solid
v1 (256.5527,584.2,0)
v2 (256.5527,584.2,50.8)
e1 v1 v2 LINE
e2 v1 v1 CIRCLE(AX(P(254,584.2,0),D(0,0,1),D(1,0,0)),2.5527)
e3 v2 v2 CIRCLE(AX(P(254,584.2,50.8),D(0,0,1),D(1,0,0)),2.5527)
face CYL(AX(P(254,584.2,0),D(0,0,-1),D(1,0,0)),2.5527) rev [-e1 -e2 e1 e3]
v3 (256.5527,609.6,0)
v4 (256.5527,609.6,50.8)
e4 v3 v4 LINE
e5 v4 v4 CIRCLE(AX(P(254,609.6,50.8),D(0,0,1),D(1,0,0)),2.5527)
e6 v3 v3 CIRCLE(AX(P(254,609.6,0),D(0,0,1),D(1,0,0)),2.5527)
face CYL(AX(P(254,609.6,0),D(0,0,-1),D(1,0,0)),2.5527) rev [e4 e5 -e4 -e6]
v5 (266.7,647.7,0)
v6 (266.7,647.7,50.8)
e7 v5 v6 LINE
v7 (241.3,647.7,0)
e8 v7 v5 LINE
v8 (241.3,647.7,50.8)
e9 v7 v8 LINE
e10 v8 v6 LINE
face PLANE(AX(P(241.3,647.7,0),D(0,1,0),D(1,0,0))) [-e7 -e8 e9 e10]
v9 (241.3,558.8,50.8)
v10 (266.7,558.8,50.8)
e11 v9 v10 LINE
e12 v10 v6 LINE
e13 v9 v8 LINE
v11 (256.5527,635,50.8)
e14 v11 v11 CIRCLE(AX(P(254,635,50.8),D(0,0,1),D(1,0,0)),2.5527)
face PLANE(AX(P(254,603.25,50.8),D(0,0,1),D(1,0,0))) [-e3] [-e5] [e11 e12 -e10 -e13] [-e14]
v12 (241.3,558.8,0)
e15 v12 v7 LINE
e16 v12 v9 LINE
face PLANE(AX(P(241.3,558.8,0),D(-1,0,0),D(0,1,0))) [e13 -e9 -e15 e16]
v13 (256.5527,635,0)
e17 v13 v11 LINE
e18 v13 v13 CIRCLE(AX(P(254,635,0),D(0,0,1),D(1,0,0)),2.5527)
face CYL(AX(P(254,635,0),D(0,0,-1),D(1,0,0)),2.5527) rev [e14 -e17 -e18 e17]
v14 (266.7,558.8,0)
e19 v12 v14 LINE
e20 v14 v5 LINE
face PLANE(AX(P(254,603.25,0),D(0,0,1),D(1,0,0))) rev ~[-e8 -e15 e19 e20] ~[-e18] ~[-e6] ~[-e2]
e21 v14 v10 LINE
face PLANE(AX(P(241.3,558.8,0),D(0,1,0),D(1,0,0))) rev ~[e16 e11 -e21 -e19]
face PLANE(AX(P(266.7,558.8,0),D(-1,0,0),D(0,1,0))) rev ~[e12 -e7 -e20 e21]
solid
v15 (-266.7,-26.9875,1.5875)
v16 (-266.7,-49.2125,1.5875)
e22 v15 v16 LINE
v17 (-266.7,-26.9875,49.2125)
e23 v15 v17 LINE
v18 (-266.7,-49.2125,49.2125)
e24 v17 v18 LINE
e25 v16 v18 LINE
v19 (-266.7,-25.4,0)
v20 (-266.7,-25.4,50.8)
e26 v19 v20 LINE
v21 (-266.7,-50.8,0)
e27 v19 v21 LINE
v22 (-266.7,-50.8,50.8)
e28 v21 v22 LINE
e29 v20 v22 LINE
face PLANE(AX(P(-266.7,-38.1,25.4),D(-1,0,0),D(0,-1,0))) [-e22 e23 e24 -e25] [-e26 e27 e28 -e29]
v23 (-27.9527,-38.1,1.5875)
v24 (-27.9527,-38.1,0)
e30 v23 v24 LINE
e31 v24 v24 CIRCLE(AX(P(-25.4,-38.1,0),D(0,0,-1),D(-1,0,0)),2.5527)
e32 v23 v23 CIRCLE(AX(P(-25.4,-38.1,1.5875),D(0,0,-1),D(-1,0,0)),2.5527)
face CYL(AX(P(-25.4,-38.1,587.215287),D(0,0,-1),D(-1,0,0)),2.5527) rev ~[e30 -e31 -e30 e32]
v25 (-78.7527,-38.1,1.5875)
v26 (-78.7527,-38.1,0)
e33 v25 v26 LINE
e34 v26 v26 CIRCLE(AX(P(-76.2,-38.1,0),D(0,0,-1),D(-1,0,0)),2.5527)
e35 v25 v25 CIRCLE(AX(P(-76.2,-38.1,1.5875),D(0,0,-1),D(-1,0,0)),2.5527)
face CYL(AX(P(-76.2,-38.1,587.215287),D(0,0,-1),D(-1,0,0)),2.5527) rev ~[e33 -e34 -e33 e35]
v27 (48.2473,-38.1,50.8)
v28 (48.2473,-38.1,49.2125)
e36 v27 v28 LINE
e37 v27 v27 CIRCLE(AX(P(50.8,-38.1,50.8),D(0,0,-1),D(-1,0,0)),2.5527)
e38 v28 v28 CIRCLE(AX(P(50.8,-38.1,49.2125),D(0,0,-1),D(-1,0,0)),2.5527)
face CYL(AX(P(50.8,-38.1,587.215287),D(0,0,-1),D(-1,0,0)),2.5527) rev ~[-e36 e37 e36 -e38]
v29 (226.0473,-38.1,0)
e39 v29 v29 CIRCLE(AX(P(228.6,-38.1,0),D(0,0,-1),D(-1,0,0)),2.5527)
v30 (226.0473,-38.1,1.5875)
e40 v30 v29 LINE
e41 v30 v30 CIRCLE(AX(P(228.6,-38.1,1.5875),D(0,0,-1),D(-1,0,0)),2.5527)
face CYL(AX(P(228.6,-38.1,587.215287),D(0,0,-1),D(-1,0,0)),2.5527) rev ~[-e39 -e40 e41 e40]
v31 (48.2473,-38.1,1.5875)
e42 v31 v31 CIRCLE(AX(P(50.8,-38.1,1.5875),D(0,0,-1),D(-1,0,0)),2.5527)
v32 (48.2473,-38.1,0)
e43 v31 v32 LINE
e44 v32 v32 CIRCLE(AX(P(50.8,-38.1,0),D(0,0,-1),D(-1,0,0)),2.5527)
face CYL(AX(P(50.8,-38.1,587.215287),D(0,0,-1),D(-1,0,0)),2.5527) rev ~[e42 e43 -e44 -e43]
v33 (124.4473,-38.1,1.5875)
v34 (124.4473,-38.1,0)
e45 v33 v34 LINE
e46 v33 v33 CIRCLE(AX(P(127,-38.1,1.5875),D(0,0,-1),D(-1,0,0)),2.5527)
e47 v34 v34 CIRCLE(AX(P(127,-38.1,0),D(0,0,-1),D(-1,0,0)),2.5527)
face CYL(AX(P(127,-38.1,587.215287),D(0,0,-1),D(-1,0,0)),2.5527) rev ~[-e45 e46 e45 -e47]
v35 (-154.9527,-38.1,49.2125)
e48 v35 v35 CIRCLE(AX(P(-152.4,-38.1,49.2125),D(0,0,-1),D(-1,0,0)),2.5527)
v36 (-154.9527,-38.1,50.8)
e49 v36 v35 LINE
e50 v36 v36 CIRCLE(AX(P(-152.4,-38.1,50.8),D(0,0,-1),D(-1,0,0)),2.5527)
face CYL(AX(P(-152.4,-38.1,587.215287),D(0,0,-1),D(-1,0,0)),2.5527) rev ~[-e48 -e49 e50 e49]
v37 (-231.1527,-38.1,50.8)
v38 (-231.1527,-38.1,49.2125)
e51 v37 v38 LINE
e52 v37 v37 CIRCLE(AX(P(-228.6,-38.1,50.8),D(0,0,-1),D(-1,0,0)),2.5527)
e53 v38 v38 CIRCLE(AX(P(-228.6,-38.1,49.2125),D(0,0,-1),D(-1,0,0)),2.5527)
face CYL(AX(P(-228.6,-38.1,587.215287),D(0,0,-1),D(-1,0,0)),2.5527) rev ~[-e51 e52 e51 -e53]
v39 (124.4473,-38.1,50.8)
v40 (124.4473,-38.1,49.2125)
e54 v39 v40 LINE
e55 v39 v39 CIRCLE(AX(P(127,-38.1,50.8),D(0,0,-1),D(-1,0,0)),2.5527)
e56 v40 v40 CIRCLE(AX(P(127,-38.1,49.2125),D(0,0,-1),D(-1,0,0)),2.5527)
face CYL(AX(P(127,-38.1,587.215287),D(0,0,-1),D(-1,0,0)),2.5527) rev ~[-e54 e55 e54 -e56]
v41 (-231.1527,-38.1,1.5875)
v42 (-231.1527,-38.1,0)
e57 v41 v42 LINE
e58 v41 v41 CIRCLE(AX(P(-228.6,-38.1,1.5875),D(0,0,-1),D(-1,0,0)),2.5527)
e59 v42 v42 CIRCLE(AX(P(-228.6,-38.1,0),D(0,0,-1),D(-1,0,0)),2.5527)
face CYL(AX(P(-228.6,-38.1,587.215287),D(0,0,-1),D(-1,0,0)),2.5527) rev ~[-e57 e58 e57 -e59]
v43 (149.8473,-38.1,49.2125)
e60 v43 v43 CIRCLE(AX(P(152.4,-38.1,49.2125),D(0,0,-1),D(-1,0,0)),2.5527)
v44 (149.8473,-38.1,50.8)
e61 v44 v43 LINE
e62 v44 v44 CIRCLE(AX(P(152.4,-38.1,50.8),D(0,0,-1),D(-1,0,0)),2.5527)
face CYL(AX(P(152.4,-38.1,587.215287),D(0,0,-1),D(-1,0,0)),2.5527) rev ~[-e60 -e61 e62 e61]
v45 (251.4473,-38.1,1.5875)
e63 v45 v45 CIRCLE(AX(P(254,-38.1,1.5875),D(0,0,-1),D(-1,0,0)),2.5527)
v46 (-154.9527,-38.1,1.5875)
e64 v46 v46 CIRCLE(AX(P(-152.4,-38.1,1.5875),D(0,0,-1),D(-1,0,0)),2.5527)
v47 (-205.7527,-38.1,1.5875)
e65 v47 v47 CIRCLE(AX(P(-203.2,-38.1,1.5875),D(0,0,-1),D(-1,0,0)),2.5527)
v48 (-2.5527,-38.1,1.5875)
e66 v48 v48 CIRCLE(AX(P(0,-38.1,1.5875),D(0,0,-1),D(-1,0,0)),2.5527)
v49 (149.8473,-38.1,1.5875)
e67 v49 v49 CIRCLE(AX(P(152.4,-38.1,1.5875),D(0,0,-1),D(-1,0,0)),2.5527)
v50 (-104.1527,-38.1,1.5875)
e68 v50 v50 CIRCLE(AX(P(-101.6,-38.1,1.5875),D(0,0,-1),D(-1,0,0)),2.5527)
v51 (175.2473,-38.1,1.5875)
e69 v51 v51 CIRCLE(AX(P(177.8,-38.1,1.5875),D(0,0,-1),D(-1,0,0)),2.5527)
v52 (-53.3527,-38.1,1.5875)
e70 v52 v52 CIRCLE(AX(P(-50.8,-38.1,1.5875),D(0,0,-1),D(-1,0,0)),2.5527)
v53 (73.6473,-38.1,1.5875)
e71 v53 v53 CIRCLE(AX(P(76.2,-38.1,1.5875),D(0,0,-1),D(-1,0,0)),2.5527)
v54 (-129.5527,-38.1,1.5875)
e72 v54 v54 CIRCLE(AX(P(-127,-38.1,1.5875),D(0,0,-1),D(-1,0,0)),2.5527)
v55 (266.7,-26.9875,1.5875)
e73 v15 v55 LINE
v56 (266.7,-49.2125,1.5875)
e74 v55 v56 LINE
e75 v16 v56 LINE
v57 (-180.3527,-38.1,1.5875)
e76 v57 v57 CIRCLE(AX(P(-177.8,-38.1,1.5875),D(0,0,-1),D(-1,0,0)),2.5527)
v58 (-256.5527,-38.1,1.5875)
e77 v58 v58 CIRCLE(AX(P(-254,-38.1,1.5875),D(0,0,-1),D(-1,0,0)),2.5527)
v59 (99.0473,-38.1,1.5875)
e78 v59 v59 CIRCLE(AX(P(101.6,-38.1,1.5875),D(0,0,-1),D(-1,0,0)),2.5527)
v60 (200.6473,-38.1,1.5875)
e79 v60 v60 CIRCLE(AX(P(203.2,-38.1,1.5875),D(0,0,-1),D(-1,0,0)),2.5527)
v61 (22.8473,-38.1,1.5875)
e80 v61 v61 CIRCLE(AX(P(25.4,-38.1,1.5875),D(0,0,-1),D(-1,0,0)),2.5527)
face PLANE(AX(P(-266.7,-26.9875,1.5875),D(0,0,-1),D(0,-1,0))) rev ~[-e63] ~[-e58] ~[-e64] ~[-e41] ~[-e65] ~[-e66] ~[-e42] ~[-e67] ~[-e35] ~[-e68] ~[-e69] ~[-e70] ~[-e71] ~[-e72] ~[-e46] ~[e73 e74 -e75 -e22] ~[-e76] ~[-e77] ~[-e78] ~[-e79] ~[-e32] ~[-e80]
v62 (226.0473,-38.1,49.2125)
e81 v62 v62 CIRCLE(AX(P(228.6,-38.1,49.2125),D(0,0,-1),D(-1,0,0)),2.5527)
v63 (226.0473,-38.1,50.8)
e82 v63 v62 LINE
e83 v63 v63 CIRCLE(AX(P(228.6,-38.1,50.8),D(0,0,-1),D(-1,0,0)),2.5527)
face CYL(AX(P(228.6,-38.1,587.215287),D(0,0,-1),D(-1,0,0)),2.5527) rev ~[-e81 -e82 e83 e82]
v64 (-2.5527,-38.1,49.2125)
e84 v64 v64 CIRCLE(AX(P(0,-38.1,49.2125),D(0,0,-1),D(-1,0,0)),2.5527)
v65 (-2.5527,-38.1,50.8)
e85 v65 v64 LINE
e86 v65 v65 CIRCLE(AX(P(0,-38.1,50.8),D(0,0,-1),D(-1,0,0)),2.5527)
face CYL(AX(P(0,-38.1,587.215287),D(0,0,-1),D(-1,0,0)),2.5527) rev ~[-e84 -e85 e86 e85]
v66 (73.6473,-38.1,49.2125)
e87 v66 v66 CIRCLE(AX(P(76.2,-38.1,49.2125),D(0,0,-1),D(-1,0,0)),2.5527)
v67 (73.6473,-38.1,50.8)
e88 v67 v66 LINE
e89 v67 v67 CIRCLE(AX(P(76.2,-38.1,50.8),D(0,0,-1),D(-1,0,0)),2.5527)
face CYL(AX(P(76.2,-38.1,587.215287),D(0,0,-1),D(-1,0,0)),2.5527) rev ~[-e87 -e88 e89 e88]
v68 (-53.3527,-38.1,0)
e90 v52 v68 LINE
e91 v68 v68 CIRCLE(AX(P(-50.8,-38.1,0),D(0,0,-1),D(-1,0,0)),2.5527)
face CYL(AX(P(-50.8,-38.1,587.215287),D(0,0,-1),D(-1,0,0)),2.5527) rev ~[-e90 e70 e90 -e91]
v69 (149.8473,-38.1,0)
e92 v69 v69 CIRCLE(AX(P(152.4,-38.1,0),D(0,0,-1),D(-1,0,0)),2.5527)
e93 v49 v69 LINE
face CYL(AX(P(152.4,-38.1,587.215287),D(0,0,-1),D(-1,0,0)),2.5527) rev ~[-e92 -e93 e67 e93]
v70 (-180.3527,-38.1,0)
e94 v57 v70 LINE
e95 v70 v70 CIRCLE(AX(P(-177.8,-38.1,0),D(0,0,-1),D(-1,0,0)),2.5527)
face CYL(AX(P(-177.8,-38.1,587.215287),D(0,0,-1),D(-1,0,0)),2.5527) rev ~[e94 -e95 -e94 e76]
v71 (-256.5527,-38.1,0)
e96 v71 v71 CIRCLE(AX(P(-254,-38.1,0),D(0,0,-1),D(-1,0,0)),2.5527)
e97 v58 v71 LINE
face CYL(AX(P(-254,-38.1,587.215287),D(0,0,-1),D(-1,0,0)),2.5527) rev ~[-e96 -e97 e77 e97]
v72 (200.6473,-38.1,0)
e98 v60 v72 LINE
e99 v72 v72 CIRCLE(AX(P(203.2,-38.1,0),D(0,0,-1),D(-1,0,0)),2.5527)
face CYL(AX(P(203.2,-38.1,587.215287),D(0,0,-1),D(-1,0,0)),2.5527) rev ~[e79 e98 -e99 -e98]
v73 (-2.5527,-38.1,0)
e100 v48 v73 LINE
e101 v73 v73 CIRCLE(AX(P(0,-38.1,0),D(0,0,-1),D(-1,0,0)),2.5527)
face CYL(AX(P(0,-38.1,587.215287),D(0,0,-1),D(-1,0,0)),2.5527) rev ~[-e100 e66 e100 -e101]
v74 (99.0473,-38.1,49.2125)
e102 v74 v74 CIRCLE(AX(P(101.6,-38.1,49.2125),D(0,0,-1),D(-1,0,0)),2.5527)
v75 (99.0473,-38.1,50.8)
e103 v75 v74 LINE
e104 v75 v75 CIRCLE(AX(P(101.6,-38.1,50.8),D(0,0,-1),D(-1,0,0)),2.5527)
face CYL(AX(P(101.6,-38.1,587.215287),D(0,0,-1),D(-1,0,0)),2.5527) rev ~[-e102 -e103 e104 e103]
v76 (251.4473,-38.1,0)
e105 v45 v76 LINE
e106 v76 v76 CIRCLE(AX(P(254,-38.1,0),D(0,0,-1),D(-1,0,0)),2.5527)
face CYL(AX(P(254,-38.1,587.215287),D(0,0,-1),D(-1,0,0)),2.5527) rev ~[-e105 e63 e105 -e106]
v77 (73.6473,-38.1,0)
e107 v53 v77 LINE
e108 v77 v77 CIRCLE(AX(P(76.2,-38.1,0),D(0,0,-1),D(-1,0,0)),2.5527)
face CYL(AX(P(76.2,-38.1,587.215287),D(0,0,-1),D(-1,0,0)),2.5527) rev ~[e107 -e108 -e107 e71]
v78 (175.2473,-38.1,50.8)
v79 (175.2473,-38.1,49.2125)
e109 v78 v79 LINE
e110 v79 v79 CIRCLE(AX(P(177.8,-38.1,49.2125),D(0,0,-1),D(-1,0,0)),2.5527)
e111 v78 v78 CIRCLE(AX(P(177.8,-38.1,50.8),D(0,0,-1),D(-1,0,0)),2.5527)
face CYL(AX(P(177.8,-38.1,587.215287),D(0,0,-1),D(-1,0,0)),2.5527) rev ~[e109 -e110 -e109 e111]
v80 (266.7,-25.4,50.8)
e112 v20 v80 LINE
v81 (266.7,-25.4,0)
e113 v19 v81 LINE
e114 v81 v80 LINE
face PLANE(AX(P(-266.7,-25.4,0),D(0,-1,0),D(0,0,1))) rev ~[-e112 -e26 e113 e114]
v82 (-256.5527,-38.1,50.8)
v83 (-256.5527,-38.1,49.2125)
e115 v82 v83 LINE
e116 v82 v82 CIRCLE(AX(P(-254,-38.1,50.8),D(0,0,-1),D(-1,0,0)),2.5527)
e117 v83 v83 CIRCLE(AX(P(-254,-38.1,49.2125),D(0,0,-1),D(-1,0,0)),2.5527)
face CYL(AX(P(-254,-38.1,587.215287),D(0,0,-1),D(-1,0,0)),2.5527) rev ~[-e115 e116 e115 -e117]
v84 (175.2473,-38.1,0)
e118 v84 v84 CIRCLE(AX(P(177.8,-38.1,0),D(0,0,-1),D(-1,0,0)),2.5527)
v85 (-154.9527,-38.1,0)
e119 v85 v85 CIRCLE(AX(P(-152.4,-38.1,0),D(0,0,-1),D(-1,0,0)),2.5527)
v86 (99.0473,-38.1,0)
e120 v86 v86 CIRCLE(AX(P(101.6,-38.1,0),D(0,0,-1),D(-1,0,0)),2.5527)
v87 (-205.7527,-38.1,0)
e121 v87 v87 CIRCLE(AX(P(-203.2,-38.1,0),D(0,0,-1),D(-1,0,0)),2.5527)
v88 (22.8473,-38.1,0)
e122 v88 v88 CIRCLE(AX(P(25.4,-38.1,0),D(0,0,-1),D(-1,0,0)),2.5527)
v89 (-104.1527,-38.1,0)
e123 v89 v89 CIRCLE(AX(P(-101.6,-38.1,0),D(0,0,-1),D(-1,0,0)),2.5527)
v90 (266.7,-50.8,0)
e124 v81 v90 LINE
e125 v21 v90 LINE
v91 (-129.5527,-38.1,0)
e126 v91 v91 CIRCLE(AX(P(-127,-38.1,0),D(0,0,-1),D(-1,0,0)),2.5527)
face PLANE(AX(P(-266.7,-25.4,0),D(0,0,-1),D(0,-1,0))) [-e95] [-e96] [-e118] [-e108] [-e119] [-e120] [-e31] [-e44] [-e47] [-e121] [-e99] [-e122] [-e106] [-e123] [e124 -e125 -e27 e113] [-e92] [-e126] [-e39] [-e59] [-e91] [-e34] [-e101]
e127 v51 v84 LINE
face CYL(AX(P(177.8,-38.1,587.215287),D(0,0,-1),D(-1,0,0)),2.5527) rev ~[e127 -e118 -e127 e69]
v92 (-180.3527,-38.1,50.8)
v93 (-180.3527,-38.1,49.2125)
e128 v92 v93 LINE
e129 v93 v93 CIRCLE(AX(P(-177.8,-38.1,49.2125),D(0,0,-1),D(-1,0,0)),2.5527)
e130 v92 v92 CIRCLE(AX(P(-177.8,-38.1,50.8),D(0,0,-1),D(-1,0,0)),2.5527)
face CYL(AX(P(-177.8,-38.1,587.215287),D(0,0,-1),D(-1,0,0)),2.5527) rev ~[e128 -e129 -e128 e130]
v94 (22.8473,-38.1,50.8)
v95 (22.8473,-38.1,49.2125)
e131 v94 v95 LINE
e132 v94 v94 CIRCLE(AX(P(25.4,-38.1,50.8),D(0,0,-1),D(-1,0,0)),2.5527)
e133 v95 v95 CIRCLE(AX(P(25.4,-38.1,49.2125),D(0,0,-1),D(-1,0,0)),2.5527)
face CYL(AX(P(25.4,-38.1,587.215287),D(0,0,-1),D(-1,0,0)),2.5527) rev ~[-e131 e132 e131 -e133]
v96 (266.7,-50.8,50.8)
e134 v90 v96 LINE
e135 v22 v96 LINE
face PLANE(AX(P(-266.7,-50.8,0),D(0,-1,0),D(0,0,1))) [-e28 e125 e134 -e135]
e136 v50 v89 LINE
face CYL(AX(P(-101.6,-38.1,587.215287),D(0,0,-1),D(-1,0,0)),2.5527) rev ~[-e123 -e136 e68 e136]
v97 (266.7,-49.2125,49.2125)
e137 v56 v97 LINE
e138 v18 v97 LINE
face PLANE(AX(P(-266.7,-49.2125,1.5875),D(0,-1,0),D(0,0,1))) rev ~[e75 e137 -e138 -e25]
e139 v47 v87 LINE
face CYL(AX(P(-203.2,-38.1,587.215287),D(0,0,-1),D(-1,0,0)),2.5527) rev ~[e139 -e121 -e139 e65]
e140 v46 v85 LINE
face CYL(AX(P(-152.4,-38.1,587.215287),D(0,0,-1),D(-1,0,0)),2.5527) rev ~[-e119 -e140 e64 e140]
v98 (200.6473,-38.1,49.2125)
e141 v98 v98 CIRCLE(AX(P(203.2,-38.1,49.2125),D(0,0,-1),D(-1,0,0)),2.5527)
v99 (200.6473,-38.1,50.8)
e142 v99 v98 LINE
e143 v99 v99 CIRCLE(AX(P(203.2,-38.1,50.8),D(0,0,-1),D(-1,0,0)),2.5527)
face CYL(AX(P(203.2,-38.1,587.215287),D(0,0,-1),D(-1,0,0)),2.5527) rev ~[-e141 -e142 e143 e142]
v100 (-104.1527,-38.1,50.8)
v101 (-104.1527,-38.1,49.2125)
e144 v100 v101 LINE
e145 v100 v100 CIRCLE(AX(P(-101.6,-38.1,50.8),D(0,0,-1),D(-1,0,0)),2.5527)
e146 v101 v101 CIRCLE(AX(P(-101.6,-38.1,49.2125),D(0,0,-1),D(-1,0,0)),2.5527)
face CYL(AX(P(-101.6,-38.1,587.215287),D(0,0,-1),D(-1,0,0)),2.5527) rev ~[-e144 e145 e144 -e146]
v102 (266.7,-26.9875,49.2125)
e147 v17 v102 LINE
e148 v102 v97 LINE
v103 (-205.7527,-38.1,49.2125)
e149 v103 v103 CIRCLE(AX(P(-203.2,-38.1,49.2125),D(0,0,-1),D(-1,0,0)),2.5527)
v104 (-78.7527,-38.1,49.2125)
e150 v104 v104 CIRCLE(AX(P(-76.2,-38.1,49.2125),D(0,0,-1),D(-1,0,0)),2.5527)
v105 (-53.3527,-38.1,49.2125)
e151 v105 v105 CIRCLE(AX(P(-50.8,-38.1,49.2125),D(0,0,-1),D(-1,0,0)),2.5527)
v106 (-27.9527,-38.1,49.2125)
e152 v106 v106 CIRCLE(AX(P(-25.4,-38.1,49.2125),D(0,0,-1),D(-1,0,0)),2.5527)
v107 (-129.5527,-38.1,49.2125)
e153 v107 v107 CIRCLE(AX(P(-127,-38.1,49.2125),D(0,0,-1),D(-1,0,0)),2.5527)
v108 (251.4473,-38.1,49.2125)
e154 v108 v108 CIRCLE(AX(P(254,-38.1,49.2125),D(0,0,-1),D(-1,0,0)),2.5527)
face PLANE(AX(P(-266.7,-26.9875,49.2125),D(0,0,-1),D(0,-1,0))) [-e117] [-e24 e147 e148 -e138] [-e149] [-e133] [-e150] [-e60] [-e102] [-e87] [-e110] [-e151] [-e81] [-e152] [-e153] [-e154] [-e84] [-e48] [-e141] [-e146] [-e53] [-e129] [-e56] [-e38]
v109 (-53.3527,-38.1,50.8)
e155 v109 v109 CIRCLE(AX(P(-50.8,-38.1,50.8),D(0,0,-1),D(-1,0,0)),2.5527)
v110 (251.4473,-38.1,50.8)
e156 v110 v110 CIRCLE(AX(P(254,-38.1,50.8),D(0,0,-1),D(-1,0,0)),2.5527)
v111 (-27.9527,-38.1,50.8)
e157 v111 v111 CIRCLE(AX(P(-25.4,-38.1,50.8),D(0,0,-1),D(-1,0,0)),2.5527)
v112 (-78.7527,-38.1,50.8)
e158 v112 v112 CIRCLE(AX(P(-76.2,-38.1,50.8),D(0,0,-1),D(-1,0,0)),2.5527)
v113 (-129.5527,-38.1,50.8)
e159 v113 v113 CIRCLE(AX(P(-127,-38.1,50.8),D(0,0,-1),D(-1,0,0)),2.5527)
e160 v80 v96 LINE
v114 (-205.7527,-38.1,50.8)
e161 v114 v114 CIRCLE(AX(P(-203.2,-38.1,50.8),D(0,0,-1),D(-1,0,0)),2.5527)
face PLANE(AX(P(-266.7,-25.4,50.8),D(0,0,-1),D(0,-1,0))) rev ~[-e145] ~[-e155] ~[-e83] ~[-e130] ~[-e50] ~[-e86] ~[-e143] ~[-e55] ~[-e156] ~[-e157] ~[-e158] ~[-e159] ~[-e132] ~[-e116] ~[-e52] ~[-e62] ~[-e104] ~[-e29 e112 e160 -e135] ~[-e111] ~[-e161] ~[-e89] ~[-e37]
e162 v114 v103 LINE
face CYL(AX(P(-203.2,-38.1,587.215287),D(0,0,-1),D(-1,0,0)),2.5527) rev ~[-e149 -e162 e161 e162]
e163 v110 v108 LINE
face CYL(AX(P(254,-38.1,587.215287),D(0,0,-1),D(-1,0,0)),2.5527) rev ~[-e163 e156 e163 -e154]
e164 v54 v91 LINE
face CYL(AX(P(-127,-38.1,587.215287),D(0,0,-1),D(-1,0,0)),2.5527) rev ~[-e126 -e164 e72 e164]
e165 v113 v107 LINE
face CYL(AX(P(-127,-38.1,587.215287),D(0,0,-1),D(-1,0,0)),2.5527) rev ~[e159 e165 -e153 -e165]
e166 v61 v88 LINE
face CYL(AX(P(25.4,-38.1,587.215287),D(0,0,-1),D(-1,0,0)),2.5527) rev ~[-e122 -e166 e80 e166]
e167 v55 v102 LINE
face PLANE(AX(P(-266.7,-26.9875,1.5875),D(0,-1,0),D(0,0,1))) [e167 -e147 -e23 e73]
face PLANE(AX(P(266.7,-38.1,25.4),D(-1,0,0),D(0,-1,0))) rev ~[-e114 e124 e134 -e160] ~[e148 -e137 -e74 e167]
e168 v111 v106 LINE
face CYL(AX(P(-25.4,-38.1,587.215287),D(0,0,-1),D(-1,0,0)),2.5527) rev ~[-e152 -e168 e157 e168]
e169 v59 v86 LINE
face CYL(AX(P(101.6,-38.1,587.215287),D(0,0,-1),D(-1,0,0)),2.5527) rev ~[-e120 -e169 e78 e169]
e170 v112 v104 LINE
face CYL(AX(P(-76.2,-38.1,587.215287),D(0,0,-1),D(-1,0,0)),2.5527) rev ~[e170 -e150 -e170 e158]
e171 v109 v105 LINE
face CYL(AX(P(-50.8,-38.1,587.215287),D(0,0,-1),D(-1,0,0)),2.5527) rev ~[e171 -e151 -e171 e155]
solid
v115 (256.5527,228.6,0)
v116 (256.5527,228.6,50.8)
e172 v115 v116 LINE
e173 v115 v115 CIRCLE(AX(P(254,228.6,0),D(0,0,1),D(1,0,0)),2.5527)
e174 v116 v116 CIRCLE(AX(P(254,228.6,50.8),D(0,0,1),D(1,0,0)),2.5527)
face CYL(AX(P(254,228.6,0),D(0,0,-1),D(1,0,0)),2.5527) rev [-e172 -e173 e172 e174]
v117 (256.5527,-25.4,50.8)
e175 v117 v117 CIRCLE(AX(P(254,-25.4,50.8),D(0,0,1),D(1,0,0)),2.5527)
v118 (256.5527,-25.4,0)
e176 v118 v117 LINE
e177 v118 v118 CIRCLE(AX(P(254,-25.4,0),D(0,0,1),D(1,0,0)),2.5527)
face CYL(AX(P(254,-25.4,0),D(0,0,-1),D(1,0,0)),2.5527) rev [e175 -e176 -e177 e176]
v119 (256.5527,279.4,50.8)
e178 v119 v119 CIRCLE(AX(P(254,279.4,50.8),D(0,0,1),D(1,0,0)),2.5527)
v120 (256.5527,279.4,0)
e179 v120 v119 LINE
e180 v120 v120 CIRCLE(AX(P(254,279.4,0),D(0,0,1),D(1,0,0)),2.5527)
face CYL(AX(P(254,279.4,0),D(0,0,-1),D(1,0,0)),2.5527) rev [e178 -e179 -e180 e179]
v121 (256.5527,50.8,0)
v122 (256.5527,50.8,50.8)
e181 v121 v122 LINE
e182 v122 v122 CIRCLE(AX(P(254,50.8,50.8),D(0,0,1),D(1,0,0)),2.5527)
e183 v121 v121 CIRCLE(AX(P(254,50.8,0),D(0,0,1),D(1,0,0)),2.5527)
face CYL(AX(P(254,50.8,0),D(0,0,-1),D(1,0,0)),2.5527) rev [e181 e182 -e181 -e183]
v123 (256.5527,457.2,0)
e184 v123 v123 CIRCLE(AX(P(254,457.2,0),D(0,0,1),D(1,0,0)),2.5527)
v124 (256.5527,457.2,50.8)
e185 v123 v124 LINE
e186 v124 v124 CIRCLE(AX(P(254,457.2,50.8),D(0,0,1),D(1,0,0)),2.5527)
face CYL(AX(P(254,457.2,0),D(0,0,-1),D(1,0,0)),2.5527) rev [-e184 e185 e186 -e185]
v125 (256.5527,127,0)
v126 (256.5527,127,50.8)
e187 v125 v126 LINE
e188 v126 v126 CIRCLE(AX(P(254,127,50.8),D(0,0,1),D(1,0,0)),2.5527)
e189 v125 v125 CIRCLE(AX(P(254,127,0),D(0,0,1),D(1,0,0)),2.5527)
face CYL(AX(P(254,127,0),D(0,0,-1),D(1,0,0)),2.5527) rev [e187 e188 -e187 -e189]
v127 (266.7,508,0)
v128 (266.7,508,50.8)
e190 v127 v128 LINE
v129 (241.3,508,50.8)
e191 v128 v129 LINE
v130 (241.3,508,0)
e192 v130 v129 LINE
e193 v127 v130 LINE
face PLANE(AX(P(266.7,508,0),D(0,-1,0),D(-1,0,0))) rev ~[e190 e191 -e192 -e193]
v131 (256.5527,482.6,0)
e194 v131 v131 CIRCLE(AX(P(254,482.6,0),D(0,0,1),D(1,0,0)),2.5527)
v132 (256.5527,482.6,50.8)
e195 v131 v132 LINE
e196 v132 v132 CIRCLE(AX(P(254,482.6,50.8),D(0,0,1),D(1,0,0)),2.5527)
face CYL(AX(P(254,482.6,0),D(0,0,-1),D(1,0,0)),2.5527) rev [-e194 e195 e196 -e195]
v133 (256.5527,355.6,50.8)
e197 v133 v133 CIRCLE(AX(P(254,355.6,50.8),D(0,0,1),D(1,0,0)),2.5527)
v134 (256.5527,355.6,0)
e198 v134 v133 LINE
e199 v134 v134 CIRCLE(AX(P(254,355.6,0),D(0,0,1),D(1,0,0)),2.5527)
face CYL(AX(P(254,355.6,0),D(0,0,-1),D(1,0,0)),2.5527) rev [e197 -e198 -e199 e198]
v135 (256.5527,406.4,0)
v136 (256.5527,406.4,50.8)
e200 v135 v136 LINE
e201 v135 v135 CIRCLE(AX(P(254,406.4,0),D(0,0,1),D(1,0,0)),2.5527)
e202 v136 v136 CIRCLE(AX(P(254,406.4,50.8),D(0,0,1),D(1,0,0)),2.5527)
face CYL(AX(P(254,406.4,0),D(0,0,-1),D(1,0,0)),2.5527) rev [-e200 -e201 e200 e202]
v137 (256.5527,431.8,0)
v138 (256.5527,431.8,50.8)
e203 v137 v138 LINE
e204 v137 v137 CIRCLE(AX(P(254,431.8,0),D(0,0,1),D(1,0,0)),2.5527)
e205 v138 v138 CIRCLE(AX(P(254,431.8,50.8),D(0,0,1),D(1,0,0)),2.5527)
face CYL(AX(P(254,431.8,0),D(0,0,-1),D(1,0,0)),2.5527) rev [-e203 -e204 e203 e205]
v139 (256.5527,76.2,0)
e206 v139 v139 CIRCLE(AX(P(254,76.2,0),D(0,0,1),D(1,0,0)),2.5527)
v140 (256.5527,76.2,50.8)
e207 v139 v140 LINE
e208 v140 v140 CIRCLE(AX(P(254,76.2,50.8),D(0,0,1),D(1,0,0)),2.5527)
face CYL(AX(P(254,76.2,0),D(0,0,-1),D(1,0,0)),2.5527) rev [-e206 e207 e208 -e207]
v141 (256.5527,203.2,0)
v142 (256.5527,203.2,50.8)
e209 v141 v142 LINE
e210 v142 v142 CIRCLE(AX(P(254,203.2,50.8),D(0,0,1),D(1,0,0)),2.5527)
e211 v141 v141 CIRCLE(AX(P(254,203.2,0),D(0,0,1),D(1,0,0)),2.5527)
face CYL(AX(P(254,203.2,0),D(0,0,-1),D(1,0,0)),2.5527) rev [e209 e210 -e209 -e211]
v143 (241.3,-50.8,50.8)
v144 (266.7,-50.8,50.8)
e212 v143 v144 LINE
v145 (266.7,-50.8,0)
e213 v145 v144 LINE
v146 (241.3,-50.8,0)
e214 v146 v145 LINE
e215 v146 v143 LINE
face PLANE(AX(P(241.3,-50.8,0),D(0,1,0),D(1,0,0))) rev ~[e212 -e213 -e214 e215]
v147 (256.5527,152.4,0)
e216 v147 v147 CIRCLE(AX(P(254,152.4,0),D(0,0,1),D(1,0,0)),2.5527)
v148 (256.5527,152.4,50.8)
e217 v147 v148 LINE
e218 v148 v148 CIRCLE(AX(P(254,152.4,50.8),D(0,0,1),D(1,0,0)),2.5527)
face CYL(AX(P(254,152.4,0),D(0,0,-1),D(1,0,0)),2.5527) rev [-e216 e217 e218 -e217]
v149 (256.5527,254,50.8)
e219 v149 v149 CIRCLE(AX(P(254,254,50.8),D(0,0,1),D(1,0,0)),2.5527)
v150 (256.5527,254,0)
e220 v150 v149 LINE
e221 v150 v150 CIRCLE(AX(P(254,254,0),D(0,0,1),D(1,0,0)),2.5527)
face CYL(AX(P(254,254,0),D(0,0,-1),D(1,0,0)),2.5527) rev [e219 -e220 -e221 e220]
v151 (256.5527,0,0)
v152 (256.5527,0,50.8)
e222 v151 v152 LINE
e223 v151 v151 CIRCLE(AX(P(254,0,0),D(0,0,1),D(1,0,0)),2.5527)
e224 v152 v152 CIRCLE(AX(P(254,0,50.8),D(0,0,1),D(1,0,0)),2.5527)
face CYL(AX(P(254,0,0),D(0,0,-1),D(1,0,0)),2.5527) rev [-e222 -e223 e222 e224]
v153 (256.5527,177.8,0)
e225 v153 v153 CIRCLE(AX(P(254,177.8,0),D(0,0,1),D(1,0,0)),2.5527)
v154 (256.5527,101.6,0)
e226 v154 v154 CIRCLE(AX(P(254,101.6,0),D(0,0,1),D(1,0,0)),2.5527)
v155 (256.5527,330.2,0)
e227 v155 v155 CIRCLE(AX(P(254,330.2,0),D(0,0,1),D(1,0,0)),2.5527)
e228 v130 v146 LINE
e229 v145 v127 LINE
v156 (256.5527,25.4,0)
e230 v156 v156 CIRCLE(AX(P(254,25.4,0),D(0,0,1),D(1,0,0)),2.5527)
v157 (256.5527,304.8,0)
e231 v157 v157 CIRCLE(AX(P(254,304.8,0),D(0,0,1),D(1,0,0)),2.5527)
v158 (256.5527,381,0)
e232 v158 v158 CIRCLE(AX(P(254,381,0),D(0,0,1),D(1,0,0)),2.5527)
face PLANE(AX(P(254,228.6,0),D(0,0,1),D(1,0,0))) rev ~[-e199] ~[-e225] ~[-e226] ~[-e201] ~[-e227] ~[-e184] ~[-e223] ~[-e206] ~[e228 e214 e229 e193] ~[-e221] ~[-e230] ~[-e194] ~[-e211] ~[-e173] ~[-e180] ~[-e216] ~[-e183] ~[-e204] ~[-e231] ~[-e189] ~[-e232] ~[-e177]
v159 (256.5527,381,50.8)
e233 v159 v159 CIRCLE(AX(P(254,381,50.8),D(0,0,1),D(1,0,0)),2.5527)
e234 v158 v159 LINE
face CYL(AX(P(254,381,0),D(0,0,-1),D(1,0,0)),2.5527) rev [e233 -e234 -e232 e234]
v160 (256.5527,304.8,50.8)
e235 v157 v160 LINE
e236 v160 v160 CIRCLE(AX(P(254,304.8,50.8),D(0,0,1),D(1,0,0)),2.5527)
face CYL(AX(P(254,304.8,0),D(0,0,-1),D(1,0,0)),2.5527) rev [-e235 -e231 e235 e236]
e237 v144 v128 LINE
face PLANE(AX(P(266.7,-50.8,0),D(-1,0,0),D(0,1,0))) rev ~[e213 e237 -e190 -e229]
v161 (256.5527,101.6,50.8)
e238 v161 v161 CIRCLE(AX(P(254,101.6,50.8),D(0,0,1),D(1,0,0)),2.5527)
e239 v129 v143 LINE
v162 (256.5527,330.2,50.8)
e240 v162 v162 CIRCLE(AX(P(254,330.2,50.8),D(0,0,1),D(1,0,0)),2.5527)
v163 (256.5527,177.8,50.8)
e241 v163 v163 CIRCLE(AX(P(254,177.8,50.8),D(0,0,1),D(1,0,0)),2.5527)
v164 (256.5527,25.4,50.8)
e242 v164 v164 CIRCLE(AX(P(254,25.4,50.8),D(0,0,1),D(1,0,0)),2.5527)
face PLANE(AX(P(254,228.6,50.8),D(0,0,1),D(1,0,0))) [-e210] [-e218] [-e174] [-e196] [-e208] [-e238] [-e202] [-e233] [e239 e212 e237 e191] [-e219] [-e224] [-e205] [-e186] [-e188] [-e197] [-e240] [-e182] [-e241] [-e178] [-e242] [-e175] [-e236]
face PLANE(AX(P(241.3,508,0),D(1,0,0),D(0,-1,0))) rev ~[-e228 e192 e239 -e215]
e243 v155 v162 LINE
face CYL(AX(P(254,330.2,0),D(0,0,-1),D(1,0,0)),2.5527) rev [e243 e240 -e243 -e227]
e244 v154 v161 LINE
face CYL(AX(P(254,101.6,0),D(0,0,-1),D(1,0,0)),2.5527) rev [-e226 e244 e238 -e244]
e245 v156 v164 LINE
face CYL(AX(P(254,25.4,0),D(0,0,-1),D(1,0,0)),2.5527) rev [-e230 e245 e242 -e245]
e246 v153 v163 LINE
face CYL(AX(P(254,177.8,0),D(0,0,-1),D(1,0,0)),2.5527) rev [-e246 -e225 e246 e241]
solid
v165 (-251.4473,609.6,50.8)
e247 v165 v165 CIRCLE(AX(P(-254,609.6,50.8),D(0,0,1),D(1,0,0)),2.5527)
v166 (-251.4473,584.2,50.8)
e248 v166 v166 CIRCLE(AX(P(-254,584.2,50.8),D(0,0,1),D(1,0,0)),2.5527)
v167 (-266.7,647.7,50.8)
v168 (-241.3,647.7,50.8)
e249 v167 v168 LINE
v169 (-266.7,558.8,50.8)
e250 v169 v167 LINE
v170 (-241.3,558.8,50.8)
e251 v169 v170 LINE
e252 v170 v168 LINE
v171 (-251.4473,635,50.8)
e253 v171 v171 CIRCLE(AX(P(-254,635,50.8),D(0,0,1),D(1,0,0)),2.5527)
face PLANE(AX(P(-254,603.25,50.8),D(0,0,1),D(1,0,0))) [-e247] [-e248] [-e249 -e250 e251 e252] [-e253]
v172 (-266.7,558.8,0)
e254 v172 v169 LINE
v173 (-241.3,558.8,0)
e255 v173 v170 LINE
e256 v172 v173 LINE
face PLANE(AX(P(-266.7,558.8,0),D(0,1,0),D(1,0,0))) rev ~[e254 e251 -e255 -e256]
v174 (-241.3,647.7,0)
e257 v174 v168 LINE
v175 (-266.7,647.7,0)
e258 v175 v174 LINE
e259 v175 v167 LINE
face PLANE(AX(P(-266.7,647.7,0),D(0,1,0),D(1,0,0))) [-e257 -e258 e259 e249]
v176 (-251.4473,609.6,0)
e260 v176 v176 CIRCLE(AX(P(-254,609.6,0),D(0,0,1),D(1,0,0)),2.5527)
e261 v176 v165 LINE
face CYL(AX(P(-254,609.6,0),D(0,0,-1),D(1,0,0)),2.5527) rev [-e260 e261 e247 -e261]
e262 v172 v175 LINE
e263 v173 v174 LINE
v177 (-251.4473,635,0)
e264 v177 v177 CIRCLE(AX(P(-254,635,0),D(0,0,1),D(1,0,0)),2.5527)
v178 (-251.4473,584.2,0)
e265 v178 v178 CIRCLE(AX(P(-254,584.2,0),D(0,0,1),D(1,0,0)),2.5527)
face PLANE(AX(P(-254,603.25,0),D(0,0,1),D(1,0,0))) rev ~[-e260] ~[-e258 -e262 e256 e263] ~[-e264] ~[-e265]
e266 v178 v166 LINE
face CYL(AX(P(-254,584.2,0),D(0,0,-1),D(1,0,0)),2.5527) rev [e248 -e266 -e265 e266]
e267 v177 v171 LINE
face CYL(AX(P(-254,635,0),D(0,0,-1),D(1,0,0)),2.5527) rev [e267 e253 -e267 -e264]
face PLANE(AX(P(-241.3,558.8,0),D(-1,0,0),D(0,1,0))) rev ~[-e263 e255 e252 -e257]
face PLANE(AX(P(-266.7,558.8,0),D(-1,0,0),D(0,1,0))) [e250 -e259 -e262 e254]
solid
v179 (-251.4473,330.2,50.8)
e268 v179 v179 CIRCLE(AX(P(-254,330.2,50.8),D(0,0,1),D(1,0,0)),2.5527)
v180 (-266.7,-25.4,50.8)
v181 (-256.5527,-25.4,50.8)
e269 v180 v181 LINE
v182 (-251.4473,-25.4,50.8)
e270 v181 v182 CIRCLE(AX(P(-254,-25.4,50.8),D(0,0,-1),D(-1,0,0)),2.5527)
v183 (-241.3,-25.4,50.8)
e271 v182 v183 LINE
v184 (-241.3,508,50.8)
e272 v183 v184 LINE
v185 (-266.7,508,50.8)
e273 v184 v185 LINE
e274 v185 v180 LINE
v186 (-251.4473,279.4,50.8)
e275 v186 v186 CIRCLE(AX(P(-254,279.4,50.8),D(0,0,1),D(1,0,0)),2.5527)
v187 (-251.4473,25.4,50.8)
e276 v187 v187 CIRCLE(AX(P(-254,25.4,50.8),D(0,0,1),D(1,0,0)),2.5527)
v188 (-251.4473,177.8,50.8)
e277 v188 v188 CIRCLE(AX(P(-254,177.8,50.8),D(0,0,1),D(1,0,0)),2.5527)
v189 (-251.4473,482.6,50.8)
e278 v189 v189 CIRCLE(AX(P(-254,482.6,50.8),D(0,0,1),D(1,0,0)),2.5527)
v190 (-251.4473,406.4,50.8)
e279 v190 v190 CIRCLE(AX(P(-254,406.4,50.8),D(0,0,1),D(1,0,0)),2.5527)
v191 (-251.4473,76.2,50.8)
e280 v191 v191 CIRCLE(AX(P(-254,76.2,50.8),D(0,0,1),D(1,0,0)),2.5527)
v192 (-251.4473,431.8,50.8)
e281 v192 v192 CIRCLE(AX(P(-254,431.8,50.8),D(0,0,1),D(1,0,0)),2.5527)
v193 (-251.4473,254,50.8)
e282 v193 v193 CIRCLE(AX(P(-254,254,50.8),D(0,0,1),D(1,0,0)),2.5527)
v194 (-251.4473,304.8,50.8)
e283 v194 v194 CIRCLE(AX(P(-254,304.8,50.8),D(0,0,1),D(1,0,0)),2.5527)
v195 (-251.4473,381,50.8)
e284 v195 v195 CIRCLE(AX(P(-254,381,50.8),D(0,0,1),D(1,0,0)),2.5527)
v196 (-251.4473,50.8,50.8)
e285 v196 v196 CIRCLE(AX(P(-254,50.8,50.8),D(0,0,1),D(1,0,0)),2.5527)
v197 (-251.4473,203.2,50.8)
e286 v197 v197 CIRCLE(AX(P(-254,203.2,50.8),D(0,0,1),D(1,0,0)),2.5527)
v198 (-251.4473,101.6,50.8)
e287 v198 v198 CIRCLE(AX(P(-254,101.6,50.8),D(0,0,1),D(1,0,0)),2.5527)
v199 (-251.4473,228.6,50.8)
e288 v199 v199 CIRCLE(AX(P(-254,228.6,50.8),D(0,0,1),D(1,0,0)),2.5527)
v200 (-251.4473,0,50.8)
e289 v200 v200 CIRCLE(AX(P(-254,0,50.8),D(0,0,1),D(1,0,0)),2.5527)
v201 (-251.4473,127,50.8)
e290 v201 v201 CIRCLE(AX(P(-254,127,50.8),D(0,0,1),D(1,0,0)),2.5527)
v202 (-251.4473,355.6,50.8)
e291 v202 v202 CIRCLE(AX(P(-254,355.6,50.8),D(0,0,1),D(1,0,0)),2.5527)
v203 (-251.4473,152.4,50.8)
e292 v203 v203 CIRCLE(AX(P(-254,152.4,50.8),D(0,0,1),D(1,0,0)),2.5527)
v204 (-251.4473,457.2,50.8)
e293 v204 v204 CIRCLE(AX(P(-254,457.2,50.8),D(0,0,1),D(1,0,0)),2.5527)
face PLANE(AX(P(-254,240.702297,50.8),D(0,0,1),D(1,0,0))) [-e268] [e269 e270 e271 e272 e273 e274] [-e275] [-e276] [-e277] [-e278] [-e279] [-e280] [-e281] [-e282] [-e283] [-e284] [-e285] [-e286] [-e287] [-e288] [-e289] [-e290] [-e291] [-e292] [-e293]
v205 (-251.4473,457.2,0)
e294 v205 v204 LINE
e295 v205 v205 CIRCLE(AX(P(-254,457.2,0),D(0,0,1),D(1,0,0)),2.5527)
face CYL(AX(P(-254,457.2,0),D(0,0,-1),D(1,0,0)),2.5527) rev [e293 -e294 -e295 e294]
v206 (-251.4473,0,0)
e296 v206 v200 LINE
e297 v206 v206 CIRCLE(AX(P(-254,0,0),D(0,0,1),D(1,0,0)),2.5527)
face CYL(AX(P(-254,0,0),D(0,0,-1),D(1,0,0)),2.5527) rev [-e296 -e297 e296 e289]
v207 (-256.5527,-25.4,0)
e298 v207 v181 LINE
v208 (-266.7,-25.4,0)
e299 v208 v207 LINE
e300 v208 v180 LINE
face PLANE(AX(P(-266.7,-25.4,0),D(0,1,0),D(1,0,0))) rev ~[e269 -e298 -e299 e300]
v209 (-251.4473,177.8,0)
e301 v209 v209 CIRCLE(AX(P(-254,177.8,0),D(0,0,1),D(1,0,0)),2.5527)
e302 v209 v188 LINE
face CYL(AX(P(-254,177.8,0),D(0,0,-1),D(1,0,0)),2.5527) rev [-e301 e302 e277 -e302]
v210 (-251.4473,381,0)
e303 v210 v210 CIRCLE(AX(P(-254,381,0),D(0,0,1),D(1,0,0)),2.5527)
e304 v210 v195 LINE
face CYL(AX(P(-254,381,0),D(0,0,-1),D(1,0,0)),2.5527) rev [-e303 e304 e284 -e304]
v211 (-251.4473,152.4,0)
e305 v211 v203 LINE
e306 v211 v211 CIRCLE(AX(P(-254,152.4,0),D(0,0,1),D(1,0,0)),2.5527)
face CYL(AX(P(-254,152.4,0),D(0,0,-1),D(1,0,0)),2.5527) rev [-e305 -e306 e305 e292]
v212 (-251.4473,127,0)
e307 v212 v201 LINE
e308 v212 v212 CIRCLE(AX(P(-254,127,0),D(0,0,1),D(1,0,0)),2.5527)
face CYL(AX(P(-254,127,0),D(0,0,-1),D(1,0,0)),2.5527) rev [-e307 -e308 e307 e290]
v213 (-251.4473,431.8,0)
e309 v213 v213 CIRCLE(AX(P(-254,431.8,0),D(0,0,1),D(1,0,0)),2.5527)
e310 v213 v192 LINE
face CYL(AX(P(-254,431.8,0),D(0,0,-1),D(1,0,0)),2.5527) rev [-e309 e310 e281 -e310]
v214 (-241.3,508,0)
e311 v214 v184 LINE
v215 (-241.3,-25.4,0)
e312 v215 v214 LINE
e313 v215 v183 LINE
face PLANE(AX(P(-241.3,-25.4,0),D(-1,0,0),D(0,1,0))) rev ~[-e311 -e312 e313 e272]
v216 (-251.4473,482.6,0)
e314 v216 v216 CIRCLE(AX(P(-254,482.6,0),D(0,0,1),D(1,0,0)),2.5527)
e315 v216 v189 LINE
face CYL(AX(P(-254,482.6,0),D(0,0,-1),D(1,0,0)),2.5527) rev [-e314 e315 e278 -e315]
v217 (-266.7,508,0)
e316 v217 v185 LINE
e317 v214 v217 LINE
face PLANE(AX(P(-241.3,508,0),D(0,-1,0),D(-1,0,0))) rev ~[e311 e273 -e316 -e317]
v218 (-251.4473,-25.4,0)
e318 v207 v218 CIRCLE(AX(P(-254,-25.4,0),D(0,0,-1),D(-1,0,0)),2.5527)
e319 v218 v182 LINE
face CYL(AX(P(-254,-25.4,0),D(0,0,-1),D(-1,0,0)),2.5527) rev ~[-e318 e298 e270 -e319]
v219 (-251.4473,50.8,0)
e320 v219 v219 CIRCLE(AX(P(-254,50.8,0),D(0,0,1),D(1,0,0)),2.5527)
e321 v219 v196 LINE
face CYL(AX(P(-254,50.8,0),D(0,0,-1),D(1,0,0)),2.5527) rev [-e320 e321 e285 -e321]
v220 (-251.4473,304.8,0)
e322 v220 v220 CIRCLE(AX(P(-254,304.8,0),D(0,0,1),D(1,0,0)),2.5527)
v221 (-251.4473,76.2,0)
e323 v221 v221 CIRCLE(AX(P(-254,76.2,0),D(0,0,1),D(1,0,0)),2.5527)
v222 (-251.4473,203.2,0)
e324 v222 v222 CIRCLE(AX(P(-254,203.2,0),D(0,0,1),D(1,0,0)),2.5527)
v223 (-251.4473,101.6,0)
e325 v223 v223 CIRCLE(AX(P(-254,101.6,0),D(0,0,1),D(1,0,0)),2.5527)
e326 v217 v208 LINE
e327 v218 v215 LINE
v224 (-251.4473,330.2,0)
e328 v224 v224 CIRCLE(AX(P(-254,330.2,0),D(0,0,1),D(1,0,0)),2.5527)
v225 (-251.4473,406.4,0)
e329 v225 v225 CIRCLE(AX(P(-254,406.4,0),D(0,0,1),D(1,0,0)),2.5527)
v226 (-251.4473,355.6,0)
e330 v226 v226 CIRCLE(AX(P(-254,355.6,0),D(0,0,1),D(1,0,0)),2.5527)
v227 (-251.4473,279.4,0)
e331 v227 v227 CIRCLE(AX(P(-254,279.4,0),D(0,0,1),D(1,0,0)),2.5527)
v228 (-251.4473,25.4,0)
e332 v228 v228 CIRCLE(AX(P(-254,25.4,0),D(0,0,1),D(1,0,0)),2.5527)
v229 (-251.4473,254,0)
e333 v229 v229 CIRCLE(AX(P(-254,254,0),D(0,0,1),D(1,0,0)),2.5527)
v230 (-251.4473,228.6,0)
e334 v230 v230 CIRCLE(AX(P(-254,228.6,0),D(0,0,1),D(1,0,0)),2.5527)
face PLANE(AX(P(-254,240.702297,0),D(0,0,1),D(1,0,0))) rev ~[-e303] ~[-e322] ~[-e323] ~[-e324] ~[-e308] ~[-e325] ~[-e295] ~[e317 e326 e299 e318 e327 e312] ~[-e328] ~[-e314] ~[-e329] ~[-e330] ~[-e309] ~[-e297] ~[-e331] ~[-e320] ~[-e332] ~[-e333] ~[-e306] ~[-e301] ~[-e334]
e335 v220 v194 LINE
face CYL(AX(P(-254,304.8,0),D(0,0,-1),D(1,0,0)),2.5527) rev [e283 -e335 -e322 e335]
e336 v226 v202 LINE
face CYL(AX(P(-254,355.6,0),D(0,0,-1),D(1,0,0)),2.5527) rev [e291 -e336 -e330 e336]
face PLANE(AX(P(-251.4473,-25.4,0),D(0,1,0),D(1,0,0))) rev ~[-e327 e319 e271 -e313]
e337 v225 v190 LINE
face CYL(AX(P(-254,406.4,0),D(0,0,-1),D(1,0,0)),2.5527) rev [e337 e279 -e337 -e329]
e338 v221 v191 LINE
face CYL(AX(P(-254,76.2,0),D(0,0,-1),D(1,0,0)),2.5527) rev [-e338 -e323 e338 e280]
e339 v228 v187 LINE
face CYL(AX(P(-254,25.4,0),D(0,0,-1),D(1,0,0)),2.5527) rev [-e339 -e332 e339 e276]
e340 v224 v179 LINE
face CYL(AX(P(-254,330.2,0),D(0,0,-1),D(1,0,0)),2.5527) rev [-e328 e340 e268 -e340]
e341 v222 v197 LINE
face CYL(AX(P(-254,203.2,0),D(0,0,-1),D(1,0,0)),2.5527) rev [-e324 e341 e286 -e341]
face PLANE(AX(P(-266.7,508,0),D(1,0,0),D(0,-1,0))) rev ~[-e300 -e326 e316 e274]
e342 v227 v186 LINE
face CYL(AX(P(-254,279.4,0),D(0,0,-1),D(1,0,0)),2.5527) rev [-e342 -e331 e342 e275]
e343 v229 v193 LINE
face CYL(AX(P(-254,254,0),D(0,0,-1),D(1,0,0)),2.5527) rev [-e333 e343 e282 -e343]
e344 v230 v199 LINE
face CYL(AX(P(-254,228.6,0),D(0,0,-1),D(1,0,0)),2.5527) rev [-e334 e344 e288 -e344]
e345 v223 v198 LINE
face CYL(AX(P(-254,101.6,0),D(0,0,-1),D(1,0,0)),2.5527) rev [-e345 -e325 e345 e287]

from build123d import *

# Parameters (mm, degrees)
F0_R     = 2.5527
F1_DEPTH = 50.8
F0_W     = 25.4
F0_H     = 88.9
F2_W     = 25.4
F2_H     = 50.8
F2_W_2   = 22.225
F2_H_2   = 47.625
F3_DEPTH = 533.4
F5_D     = 5.1054


with BuildPart() as f1:
    # F0 (on Top) → F1 (new body)
    with BuildSketch(Plane.XY):
        with BuildLine():
            Line((-241.3, 508), (-266.7, 508))
            Line((-266.7, 508), (-266.7, -25.4))
            Line((-266.7, -25.4), (-256.5527, -25.4))
            ThreePointArc((-256.5527, -25.4), (-254, -22.8473), (-251.4473, -25.4))
            Line((-251.4473, -25.4), (-241.3, -25.4))
            Line((-241.3, -25.4), (-241.3, 0))
            Line((-241.3, 0), (-241.3, 508))
        make_face()
        with Locations((-254, 0)):
            Circle(F0_R, mode=Mode.SUBTRACT)
        with Locations((-254, 25.4)):
            Circle(F0_R, mode=Mode.SUBTRACT)
        with Locations((-254, 50.8)):
            Circle(F0_R, mode=Mode.SUBTRACT)
        with Locations((-254, 76.2)):
            Circle(F0_R, mode=Mode.SUBTRACT)
        with Locations((-254, 101.6)):
            Circle(F0_R, mode=Mode.SUBTRACT)
        with Locations((-254, 127)):
            Circle(F0_R, mode=Mode.SUBTRACT)
        with Locations((-254, 152.4)):
            Circle(F0_R, mode=Mode.SUBTRACT)
        with Locations((-254, 177.8)):
            Circle(F0_R, mode=Mode.SUBTRACT)
        with Locations((-254, 203.2)):
            Circle(F0_R, mode=Mode.SUBTRACT)
        with Locations((-254, 228.6)):
            Circle(F0_R, mode=Mode.SUBTRACT)
        with Locations((-254, 254)):
            Circle(F0_R, mode=Mode.SUBTRACT)
        with Locations((-254, 279.4)):
            Circle(F0_R, mode=Mode.SUBTRACT)
        with Locations((-254, 304.8)):
            Circle(F0_R, mode=Mode.SUBTRACT)
        with Locations((-254, 330.2)):
            Circle(F0_R, mode=Mode.SUBTRACT)
        with Locations((-254, 355.6)):
            Circle(F0_R, mode=Mode.SUBTRACT)
        with Locations((-254, 381)):
            Circle(F0_R, mode=Mode.SUBTRACT)
        with Locations((-254, 406.4)):
            Circle(F0_R, mode=Mode.SUBTRACT)
        with Locations((-254, 431.8)):
            Circle(F0_R, mode=Mode.SUBTRACT)
        with Locations((-254, 457.2)):
            Circle(F0_R, mode=Mode.SUBTRACT)
        with Locations((-254, 482.6)):
            Circle(F0_R, mode=Mode.SUBTRACT)
    extrude(amount=F1_DEPTH)


with BuildPart() as f1b:
    # F0 (on Top) → F1, piece 2 (new body)
    with BuildSketch(Plane.XY):
        with Locations((-254, 603.25)):
            Rectangle(F0_W, F0_H)
        with Locations((-254, 584.2)):
            Circle(F0_R, mode=Mode.SUBTRACT)
        with Locations((-254, 609.6)):
            Circle(F0_R, mode=Mode.SUBTRACT)
        with Locations((-254, 635)):
            Circle(F0_R, mode=Mode.SUBTRACT)
    extrude(amount=F1_DEPTH)


with BuildPart() as f1c:
    # F0 (on Top) → F1, piece 3 (new body)
    with BuildSketch(Plane.XY):
        Polygon((241.3, 508), (241.3, 0), (241.3, -25.4), (241.3, -50.8), (266.7, -50.8), (266.7, 508), align=None)
        with Locations((254, -25.4)):
            Circle(F0_R, mode=Mode.SUBTRACT)
        with Locations((254, 0)):
            Circle(F0_R, mode=Mode.SUBTRACT)
        with Locations((254, 25.4)):
            Circle(F0_R, mode=Mode.SUBTRACT)
        with Locations((254, 50.8)):
            Circle(F0_R, mode=Mode.SUBTRACT)
        with Locations((254, 76.2)):
            Circle(F0_R, mode=Mode.SUBTRACT)
        with Locations((254, 101.6)):
            Circle(F0_R, mode=Mode.SUBTRACT)
        with Locations((254, 127)):
            Circle(F0_R, mode=Mode.SUBTRACT)
        with Locations((254, 152.4)):
            Circle(F0_R, mode=Mode.SUBTRACT)
        with Locations((254, 177.8)):
            Circle(F0_R, mode=Mode.SUBTRACT)
        with Locations((254, 203.2)):
            Circle(F0_R, mode=Mode.SUBTRACT)
        with Locations((254, 228.6)):
            Circle(F0_R, mode=Mode.SUBTRACT)
        with Locations((254, 254)):
            Circle(F0_R, mode=Mode.SUBTRACT)
        with Locations((254, 279.4)):
            Circle(F0_R, mode=Mode.SUBTRACT)
        with Locations((254, 304.8)):
            Circle(F0_R, mode=Mode.SUBTRACT)
        with Locations((254, 330.2)):
            Circle(F0_R, mode=Mode.SUBTRACT)
        with Locations((254, 355.6)):
            Circle(F0_R, mode=Mode.SUBTRACT)
        with Locations((254, 381)):
            Circle(F0_R, mode=Mode.SUBTRACT)
        with Locations((254, 406.4)):
            Circle(F0_R, mode=Mode.SUBTRACT)
        with Locations((254, 431.8)):
            Circle(F0_R, mode=Mode.SUBTRACT)
        with Locations((254, 457.2)):
            Circle(F0_R, mode=Mode.SUBTRACT)
        with Locations((254, 482.6)):
            Circle(F0_R, mode=Mode.SUBTRACT)
    extrude(amount=F1_DEPTH)


with BuildPart() as f1d:
    # F0 (on Top) → F1, piece 4 (new body)
    with BuildSketch(Plane.XY):
        with Locations((254, 603.25)):
            Rectangle(F0_W, F0_H)
        with Locations((254, 584.2)):
            Circle(F0_R, mode=Mode.SUBTRACT)
        with Locations((254, 609.6)):
            Circle(F0_R, mode=Mode.SUBTRACT)
        with Locations((254, 635)):
            Circle(F0_R, mode=Mode.SUBTRACT)
    extrude(amount=F1_DEPTH)


with BuildPart() as f3:
    # F2 (on face) → F3 (new body, through all)
    with BuildSketch(Plane(origin=(-266.7, 0, 0), x_dir=(0, -1, 0), z_dir=(-1, 0, 0))):
        with Locations((38.1, 25.4)):
            Rectangle(F2_W, F2_H)
        with Locations((38.1, 25.4)):
            Rectangle(F2_W_2, F2_H_2, mode=Mode.SUBTRACT)
    extrude(amount=-F3_DEPTH)

    # F5 (through all)
    with Locations(Plane.XY.offset(50.8)):
        with Locations((25.4, -38.1), (50.8, -38.1), (76.2, -38.1), (-228.6, -38.1), (127, -38.1), (-203.2, -38.1), (-254, -38.1), (-177.8, -38.1), (-152.4, -38.1), (-127, -38.1), (-101.6, -38.1), (-76.2, -38.1), (-50.8, -38.1), (-25.4, -38.1), (0, -38.1), (254, -38.1), (203.2, -38.1), (152.4, -38.1), (101.6, -38.1), (228.6, -38.1), (177.8, -38.1)):
            Hole(F5_D / 2)


solid = Compound([f1.part, f1b.part, f1c.part, f1d.part, f3.part])
